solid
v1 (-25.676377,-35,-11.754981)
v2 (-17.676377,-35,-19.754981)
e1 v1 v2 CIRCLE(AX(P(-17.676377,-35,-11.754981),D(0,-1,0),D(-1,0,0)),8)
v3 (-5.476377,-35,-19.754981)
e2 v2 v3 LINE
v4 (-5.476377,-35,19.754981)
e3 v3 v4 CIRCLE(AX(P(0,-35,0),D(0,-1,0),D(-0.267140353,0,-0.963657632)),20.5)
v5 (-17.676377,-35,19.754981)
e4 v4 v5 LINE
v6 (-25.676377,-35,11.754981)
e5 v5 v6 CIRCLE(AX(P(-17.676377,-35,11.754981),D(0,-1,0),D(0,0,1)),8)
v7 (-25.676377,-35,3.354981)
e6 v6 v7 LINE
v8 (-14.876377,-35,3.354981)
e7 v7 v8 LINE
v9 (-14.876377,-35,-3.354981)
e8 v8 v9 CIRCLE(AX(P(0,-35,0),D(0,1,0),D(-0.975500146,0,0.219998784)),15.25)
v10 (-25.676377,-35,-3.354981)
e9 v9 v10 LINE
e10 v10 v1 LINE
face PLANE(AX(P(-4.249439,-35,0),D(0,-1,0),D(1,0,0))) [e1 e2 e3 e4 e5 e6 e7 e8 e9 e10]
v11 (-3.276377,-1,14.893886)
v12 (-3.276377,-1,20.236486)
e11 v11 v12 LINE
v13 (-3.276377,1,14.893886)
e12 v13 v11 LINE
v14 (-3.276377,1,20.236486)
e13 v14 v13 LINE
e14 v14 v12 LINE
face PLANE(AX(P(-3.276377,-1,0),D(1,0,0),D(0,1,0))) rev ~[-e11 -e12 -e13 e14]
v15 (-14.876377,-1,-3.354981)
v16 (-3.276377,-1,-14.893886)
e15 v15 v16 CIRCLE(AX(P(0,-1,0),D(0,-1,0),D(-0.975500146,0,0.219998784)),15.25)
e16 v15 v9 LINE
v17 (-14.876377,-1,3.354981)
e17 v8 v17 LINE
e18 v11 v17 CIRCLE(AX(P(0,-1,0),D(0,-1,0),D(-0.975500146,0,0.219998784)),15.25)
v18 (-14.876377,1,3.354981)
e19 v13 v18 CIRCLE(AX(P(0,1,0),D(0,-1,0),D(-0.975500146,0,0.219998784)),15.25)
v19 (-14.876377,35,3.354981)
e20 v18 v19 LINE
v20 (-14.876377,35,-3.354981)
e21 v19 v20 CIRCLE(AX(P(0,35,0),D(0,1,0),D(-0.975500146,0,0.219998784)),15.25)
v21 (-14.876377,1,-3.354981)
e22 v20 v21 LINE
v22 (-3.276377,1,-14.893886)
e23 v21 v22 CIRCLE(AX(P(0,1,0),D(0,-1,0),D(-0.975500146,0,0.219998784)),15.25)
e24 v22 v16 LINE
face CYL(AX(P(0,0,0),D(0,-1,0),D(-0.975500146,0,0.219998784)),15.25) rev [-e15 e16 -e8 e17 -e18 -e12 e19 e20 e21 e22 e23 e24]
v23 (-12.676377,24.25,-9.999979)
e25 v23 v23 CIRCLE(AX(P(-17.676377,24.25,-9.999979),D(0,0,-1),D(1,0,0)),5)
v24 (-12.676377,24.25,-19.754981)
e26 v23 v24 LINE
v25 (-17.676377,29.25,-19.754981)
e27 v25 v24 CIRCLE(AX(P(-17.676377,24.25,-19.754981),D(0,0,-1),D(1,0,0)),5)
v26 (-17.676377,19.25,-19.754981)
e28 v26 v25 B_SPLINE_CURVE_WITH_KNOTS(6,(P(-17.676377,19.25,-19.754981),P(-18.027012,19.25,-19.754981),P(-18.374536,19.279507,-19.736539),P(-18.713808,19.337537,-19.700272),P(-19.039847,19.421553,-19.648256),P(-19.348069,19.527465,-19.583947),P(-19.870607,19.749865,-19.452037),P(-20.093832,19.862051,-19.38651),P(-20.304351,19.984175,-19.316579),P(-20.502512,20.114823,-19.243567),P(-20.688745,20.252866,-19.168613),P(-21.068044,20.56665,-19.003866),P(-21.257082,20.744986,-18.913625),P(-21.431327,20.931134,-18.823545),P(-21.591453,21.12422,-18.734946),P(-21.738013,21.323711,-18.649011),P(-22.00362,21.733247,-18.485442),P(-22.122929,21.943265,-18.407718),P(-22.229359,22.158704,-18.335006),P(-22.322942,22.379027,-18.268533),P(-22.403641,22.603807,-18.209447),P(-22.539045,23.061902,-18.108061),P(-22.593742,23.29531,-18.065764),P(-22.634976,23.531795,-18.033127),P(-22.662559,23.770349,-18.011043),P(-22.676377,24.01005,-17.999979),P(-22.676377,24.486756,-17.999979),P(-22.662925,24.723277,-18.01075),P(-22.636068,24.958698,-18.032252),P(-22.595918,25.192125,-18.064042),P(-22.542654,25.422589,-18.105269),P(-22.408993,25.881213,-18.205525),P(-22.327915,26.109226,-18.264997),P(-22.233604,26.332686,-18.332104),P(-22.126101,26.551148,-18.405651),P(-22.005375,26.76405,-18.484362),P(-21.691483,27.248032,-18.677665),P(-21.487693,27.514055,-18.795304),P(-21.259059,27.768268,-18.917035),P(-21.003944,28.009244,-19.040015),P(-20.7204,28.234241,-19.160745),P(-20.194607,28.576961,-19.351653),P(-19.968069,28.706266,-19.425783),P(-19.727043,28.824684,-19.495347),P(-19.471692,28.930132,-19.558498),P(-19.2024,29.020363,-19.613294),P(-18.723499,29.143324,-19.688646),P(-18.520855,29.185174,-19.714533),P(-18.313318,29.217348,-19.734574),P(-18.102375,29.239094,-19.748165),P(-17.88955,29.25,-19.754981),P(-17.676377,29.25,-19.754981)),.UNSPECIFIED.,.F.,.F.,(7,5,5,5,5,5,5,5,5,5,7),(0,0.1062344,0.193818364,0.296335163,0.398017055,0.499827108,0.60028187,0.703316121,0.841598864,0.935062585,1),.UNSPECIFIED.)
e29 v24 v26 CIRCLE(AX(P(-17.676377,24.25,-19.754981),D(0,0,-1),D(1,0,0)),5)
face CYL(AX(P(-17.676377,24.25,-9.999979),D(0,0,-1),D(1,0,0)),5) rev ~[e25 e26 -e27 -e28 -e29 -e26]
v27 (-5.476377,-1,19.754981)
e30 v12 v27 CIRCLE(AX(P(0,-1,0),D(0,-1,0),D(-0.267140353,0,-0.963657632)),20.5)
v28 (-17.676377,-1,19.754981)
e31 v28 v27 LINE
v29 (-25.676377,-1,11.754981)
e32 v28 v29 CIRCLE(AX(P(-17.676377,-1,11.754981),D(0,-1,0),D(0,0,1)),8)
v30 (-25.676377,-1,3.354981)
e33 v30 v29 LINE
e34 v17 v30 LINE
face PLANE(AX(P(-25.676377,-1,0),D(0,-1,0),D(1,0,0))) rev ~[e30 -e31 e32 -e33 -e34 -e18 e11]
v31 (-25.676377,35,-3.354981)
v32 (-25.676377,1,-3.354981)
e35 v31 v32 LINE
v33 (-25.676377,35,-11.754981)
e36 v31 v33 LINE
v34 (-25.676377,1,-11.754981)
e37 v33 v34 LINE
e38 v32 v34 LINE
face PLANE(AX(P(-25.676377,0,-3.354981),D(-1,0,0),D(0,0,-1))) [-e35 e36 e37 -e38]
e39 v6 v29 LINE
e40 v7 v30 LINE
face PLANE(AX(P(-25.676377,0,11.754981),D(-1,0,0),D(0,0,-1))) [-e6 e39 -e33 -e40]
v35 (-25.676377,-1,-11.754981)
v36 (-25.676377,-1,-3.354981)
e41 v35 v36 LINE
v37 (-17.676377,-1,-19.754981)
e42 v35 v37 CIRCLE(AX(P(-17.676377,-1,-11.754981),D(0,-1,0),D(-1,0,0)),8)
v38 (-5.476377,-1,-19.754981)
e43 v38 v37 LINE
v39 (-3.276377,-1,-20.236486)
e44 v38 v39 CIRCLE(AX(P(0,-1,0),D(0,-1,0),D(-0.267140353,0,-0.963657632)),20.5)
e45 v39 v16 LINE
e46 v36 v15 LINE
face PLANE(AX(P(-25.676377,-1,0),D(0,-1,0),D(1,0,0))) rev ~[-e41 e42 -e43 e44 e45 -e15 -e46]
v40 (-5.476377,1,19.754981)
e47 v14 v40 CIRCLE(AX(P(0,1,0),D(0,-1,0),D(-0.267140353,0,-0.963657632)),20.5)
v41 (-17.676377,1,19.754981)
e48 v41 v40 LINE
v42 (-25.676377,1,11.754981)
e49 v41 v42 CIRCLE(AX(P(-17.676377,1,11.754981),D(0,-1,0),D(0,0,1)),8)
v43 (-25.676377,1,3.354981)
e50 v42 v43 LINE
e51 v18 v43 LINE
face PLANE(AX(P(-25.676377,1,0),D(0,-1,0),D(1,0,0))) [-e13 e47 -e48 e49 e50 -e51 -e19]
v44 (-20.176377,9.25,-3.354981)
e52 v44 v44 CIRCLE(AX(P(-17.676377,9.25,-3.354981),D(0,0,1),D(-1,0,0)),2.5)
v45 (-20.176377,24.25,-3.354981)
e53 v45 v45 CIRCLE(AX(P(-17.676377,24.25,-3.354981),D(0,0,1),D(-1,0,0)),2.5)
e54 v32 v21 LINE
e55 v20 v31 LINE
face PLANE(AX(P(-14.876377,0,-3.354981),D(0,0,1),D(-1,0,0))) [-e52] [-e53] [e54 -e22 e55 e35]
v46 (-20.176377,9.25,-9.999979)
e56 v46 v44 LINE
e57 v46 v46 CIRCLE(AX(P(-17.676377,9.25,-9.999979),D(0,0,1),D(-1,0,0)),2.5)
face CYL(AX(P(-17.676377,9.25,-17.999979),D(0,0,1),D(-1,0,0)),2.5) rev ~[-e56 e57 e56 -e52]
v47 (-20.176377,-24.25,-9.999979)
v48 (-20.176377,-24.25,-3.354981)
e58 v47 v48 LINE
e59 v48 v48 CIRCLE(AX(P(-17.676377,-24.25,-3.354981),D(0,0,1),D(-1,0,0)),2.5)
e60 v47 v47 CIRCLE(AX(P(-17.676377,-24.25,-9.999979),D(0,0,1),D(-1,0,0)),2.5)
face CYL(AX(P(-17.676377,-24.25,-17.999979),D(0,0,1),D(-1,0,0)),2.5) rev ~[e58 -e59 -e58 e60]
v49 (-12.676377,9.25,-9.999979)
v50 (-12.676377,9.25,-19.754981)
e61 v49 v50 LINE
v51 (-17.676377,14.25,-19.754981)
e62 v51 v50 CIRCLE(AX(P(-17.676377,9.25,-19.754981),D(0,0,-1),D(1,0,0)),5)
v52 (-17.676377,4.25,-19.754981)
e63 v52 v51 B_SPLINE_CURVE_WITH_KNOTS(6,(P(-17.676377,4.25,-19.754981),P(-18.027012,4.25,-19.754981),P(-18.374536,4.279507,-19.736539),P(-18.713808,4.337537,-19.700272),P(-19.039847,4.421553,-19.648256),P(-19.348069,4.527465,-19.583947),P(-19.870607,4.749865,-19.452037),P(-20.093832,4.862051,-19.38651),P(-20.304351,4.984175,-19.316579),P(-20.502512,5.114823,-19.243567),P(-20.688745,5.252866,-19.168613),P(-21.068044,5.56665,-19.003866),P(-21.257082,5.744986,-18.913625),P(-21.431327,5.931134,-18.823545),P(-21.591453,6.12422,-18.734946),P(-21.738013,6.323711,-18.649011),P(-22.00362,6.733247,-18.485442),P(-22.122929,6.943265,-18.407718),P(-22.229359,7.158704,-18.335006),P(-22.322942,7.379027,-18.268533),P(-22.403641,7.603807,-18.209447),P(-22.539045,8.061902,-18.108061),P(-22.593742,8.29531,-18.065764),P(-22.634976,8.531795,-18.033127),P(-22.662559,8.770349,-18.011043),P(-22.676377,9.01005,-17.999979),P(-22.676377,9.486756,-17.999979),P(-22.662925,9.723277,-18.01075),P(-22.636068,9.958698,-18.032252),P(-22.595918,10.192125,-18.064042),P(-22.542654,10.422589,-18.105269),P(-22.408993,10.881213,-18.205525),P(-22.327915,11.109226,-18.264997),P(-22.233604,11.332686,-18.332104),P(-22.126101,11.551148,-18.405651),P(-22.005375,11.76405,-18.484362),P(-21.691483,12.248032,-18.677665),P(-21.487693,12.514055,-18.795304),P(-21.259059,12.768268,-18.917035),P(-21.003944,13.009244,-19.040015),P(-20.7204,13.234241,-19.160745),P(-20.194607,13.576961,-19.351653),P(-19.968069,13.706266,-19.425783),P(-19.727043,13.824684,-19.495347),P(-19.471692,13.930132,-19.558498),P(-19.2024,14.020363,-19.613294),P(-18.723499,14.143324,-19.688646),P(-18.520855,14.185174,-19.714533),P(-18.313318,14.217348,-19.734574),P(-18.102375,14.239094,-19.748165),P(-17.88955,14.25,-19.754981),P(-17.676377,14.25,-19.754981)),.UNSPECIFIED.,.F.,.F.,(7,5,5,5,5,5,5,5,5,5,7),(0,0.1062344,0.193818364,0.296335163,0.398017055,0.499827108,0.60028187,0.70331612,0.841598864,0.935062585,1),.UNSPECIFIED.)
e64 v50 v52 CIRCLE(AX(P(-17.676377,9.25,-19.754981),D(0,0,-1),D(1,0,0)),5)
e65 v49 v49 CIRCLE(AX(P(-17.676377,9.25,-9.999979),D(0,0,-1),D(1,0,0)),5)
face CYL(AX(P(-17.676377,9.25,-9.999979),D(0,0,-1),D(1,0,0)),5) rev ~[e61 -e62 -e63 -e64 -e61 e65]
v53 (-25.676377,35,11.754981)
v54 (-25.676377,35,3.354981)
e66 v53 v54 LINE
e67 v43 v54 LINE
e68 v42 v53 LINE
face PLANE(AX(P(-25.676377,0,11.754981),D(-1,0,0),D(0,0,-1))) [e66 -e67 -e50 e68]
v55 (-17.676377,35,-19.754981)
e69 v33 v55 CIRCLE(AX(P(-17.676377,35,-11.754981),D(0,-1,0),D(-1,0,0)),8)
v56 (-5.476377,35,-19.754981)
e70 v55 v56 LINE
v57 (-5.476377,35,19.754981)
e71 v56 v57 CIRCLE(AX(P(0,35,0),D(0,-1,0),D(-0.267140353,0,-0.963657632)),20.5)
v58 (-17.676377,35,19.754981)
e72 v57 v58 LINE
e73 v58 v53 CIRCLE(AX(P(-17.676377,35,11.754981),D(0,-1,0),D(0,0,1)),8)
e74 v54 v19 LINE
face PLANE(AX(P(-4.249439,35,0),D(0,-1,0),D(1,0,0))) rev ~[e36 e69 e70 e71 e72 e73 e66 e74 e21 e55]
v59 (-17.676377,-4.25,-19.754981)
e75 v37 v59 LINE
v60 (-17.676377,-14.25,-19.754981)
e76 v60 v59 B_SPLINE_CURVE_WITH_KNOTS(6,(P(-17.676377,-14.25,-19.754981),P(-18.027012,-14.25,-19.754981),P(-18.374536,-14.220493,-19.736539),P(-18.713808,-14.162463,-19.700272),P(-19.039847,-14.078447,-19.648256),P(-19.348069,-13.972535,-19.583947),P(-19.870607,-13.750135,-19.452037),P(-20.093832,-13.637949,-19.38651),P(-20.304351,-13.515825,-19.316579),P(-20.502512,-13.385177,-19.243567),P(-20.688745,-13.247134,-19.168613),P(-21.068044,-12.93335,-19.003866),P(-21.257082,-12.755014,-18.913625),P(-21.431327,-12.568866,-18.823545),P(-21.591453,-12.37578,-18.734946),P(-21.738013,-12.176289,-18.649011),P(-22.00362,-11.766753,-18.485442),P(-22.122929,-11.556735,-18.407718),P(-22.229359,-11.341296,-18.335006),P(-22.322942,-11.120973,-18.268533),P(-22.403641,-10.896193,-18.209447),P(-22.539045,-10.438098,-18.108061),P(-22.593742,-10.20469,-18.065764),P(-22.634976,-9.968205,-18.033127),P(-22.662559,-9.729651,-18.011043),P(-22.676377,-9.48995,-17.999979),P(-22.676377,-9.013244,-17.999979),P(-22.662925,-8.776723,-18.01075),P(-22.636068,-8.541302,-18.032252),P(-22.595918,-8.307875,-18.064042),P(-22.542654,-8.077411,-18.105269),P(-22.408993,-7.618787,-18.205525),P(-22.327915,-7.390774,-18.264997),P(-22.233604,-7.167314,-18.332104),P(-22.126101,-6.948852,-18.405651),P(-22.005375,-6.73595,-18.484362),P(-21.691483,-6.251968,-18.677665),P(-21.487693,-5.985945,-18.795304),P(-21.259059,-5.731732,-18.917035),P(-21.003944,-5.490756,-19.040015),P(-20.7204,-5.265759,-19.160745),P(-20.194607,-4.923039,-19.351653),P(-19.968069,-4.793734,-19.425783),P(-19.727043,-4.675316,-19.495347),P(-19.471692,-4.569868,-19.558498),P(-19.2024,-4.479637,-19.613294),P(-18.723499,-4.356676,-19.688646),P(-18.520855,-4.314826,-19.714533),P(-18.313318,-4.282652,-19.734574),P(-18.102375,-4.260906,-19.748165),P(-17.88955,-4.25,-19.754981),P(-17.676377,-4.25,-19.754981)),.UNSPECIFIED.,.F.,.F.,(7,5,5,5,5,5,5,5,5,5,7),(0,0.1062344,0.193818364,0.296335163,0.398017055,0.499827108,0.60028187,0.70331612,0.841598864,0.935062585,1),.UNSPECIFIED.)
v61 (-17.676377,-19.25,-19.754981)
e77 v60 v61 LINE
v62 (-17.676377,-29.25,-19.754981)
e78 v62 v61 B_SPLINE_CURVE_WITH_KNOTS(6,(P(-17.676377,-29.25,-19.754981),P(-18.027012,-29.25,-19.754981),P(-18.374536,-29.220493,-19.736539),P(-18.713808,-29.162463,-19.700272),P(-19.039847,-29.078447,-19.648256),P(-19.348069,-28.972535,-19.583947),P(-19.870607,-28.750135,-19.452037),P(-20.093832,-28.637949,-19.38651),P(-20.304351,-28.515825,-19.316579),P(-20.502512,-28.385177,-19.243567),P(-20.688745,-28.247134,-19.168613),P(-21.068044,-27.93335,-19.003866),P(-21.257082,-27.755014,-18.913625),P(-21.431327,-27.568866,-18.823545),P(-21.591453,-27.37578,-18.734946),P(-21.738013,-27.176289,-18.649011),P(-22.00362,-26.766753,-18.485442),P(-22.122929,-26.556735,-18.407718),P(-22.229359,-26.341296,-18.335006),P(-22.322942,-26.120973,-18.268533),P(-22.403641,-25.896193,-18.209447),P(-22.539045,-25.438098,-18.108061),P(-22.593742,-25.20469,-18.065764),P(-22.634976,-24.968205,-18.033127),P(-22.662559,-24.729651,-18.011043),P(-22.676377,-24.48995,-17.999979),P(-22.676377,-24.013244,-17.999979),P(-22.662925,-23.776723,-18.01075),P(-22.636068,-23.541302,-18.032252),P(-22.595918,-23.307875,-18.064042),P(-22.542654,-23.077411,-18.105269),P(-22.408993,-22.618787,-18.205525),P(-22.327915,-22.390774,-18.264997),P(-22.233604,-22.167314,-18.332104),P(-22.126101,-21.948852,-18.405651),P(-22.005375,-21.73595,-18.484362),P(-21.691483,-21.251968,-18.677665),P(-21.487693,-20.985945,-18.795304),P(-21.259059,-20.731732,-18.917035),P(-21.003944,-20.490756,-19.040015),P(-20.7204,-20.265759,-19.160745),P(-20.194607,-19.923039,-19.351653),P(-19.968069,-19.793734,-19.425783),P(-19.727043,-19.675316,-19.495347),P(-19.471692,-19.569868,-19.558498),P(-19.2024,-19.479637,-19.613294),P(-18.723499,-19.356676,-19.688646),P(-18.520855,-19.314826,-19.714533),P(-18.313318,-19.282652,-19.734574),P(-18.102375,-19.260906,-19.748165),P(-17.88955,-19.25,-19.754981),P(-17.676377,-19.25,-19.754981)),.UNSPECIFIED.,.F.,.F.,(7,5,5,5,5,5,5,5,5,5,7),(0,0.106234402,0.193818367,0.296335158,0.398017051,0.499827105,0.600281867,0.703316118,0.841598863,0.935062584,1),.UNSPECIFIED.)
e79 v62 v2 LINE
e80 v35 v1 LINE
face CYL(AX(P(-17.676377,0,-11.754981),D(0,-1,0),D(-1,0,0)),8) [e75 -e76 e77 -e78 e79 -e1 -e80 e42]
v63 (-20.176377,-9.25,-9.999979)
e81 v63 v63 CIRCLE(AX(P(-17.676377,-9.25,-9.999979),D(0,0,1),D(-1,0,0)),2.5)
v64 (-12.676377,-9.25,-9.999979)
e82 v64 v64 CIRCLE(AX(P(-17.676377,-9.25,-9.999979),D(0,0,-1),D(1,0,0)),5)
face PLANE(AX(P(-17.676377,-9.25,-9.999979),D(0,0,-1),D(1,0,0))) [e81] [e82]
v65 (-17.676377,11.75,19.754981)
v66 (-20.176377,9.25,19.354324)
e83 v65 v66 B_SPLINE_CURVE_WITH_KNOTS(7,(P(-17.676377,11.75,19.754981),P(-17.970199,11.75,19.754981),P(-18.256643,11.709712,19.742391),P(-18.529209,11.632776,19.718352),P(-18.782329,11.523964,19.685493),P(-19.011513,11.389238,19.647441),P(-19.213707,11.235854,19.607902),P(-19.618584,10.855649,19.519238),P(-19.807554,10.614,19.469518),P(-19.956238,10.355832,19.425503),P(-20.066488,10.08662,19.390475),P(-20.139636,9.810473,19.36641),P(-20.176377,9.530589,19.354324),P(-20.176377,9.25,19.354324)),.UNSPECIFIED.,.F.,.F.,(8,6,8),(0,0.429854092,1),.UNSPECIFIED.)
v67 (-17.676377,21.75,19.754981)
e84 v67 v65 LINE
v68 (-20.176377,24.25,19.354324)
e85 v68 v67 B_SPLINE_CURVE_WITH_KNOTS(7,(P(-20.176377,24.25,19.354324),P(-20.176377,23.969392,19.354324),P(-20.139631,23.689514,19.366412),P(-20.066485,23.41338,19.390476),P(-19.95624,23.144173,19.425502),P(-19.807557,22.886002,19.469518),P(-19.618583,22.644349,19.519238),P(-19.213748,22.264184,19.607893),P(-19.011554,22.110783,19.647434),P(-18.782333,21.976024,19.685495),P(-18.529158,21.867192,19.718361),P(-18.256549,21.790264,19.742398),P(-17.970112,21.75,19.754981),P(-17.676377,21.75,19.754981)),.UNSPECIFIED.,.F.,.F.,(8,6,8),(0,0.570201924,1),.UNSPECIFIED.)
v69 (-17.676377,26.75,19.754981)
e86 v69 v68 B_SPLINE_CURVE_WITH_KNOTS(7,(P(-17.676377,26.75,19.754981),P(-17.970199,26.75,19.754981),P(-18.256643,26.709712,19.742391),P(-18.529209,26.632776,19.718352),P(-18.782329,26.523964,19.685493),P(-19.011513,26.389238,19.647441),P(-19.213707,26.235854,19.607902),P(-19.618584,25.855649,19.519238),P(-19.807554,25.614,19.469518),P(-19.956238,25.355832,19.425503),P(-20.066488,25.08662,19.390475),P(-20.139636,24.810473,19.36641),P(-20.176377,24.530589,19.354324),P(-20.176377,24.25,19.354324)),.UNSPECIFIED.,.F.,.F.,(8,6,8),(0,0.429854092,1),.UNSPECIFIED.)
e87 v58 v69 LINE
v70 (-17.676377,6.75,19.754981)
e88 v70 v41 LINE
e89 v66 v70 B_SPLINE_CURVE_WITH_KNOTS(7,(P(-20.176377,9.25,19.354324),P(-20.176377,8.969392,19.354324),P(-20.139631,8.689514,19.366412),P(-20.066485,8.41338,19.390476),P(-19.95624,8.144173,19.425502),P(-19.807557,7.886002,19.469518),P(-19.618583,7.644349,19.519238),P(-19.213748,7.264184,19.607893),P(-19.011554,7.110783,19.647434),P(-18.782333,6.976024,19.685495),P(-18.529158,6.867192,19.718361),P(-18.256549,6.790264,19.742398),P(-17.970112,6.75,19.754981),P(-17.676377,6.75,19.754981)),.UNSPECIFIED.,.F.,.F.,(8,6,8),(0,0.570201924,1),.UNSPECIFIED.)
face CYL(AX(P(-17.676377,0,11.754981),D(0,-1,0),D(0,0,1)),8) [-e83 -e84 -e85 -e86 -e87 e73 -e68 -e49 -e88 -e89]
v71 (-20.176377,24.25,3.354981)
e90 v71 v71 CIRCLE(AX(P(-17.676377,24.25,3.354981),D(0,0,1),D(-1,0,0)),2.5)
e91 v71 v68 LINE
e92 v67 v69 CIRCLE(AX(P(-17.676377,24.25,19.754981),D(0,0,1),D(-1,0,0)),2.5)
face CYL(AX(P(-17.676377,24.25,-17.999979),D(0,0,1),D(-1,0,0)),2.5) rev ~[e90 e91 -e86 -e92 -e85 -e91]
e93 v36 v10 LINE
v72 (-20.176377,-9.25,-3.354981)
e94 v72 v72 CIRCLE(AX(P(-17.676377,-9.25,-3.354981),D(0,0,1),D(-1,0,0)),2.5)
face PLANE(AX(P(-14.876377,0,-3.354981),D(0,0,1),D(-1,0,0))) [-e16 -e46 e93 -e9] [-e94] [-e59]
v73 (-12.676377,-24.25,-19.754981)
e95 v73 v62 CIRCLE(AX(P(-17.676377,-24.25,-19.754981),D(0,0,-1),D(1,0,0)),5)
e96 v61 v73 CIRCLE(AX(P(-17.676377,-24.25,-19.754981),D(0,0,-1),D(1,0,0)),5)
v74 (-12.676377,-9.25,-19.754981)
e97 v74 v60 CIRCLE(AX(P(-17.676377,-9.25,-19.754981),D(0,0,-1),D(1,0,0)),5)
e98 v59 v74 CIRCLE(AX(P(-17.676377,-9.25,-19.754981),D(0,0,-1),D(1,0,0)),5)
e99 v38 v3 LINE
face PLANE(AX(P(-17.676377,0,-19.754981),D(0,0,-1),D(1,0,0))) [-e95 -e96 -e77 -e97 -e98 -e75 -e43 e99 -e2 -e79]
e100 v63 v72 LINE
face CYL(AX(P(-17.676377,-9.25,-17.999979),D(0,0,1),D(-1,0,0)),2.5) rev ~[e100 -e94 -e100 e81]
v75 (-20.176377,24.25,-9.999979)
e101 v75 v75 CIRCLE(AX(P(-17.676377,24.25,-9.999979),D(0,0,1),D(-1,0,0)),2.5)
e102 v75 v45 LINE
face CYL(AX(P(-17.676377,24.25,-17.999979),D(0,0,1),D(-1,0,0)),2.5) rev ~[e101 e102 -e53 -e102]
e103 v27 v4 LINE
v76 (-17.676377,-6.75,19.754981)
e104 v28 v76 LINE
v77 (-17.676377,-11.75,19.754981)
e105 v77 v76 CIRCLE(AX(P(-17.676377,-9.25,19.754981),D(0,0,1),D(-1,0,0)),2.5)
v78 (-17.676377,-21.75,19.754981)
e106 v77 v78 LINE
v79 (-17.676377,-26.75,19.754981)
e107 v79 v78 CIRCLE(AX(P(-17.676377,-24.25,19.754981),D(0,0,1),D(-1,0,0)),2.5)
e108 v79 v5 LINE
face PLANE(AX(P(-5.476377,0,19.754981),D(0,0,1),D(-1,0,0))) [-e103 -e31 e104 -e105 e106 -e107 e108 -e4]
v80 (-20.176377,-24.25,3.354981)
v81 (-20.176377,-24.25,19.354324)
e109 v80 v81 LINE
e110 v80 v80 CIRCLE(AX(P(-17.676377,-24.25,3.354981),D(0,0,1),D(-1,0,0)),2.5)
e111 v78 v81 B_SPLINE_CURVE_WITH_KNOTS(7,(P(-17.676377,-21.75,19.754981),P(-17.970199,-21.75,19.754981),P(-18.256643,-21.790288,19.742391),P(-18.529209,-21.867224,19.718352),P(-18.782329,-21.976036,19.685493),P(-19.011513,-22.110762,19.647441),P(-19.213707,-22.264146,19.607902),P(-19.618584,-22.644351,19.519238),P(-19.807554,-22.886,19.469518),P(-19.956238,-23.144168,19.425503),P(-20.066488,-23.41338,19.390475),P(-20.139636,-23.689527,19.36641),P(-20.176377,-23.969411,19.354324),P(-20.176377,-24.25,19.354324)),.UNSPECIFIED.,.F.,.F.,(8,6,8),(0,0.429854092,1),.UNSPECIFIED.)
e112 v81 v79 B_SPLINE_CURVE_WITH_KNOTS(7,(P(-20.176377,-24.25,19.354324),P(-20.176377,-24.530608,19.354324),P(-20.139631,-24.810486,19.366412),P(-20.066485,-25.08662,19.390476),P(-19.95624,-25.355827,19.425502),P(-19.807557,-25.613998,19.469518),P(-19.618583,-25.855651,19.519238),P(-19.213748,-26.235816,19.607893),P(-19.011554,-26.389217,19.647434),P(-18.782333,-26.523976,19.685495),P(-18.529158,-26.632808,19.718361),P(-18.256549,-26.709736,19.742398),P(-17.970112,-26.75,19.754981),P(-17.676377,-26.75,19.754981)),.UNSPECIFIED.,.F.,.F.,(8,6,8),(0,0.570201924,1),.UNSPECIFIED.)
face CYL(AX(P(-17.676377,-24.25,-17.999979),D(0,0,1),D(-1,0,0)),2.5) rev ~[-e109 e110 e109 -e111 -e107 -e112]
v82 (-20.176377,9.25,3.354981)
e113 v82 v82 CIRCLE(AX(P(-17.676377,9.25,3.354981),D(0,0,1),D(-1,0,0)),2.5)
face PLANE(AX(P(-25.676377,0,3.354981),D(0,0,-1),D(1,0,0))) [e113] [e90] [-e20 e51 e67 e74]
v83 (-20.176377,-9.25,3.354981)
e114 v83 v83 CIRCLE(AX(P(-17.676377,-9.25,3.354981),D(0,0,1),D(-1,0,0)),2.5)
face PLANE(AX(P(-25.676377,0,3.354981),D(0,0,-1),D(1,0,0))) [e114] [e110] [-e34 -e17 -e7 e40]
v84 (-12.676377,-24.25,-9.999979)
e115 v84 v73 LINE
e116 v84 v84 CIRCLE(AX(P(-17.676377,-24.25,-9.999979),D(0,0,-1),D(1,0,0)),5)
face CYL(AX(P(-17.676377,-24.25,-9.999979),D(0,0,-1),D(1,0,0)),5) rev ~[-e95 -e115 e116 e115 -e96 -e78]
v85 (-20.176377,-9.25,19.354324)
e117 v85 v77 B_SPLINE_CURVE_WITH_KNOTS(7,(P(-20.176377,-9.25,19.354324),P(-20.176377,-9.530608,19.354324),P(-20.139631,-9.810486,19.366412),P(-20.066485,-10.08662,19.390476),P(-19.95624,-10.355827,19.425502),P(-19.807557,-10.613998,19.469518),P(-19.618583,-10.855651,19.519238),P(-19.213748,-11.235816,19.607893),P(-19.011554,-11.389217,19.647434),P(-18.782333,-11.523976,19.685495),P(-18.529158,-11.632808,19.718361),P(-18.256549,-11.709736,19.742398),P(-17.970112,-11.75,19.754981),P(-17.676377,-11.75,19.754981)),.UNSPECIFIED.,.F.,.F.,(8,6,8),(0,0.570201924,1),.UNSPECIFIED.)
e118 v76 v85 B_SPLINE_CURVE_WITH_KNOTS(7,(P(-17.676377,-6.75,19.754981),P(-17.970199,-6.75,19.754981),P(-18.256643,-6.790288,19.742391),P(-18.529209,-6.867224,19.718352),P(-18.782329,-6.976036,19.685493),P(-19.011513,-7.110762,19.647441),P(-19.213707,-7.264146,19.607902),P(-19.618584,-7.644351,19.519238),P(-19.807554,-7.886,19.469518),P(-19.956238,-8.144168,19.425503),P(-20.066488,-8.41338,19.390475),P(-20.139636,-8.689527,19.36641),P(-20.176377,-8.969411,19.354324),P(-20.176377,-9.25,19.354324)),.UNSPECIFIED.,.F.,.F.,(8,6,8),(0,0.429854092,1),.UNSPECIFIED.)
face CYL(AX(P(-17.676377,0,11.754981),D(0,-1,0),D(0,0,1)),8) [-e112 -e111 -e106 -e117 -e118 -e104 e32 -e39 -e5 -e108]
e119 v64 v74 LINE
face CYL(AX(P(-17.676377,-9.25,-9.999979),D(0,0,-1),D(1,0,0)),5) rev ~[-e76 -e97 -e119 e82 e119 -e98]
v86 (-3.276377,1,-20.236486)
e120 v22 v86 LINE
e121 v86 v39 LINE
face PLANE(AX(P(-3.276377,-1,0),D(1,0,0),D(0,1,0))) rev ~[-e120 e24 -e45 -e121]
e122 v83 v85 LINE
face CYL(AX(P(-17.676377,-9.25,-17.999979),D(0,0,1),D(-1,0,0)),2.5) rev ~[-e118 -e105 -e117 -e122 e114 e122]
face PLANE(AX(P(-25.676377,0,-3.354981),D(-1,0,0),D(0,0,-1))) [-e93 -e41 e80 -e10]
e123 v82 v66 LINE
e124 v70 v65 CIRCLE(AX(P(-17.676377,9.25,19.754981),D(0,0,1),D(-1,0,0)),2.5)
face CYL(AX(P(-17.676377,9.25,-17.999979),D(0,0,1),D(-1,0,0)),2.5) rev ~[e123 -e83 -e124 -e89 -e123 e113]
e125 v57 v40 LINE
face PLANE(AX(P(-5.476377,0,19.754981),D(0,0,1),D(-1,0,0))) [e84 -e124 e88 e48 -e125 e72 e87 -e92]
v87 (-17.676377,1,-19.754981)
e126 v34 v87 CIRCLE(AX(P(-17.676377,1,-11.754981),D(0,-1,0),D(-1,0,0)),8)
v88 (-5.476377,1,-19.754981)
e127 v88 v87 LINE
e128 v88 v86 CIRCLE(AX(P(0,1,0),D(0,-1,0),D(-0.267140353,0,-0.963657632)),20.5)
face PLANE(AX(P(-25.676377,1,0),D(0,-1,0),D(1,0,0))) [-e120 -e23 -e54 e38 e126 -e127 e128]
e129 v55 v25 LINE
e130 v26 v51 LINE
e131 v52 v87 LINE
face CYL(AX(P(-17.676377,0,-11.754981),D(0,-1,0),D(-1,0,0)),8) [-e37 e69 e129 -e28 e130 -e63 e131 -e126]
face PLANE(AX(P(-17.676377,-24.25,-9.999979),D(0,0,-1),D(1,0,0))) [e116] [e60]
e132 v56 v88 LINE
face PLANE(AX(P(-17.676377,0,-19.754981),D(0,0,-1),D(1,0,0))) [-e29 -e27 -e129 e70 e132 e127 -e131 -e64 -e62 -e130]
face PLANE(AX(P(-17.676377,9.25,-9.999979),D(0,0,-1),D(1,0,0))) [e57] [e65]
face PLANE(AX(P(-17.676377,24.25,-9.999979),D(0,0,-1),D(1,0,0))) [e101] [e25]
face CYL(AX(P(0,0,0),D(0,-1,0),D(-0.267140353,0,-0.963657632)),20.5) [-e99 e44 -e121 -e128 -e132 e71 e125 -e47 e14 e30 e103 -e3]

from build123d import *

# Parameters (mm, degrees)
F1_DEPTH       = 35
F3_D           = 5
F3_START       = 1.7550021
F3_CBORE_D     = 10
F3_CBORE_DEPTH = 8
F4_W           = 22.4
F4_H           = 2
F5_DEPTH       = 25


with BuildPart() as f1:
    # F0 (on Front) → F1 (new body, symmetric)
    with BuildSketch(Plane.XZ):
        with BuildLine():
            ThreePointArc((-14.8763772272, 3.3549814595), (15.25, 0), (-14.8763772272, -3.3549814595))
            Line((-14.8763772272, -3.3549814595), (-25.6763772272, -3.3549814595))
            Line((-25.6763772272, -3.3549814595), (-25.6763772272, -11.7549814595))
            ThreePointArc((-25.6763772272, -11.7549814595), (-23.3332314767, -17.411835709), (-17.6763772272, -19.7549814595))
            Line((-17.6763772272, -19.7549814595), (-5.4763772272, -19.7549814595))
            ThreePointArc((-5.4763772272, -19.7549814595), (20.5, 0), (-5.4763772272, 19.7549814595))
            Line((-5.4763772272, 19.7549814595), (-17.6763772272, 19.7549814595))
            ThreePointArc((-17.6763772272, 19.7549814595), (-23.3332314767, 17.411835709), (-25.6763772272, 11.7549814595))
            Line((-25.6763772272, 11.7549814595), (-25.6763772272, 3.3549814595))
            Line((-25.6763772272, 3.3549814595), (-14.8763772272, 3.3549814595))
        make_face()
    extrude(amount=F1_DEPTH, both=True)

    # F3 (through all)
    # its depths count from where the whole tool has entered the part; down to there all is cleared
    with Locations(Plane(origin=(0, 0, -19.7549814595), x_dir=(1, 0, 0), z_dir=(0, 0, -1)).offset(-F3_START)):
        with Locations((-17.6763772272, 24.25), (-17.6763772272, 9.25), (-17.6763772272, -9.25), (-17.6763772272, -24.25)):
            CounterBoreHole(F3_D / 2, F3_CBORE_D / 2, F3_CBORE_DEPTH)

    # F4 (on Top) → F5 (cut, symmetric)
    with BuildSketch(Plane.XY):
        with Locations((-14.4763772272, 0)):
            Rectangle(F4_W, F4_H)
    extrude(amount=F5_DEPTH, both=True, mode=Mode.SUBTRACT)


solid = f1.part
